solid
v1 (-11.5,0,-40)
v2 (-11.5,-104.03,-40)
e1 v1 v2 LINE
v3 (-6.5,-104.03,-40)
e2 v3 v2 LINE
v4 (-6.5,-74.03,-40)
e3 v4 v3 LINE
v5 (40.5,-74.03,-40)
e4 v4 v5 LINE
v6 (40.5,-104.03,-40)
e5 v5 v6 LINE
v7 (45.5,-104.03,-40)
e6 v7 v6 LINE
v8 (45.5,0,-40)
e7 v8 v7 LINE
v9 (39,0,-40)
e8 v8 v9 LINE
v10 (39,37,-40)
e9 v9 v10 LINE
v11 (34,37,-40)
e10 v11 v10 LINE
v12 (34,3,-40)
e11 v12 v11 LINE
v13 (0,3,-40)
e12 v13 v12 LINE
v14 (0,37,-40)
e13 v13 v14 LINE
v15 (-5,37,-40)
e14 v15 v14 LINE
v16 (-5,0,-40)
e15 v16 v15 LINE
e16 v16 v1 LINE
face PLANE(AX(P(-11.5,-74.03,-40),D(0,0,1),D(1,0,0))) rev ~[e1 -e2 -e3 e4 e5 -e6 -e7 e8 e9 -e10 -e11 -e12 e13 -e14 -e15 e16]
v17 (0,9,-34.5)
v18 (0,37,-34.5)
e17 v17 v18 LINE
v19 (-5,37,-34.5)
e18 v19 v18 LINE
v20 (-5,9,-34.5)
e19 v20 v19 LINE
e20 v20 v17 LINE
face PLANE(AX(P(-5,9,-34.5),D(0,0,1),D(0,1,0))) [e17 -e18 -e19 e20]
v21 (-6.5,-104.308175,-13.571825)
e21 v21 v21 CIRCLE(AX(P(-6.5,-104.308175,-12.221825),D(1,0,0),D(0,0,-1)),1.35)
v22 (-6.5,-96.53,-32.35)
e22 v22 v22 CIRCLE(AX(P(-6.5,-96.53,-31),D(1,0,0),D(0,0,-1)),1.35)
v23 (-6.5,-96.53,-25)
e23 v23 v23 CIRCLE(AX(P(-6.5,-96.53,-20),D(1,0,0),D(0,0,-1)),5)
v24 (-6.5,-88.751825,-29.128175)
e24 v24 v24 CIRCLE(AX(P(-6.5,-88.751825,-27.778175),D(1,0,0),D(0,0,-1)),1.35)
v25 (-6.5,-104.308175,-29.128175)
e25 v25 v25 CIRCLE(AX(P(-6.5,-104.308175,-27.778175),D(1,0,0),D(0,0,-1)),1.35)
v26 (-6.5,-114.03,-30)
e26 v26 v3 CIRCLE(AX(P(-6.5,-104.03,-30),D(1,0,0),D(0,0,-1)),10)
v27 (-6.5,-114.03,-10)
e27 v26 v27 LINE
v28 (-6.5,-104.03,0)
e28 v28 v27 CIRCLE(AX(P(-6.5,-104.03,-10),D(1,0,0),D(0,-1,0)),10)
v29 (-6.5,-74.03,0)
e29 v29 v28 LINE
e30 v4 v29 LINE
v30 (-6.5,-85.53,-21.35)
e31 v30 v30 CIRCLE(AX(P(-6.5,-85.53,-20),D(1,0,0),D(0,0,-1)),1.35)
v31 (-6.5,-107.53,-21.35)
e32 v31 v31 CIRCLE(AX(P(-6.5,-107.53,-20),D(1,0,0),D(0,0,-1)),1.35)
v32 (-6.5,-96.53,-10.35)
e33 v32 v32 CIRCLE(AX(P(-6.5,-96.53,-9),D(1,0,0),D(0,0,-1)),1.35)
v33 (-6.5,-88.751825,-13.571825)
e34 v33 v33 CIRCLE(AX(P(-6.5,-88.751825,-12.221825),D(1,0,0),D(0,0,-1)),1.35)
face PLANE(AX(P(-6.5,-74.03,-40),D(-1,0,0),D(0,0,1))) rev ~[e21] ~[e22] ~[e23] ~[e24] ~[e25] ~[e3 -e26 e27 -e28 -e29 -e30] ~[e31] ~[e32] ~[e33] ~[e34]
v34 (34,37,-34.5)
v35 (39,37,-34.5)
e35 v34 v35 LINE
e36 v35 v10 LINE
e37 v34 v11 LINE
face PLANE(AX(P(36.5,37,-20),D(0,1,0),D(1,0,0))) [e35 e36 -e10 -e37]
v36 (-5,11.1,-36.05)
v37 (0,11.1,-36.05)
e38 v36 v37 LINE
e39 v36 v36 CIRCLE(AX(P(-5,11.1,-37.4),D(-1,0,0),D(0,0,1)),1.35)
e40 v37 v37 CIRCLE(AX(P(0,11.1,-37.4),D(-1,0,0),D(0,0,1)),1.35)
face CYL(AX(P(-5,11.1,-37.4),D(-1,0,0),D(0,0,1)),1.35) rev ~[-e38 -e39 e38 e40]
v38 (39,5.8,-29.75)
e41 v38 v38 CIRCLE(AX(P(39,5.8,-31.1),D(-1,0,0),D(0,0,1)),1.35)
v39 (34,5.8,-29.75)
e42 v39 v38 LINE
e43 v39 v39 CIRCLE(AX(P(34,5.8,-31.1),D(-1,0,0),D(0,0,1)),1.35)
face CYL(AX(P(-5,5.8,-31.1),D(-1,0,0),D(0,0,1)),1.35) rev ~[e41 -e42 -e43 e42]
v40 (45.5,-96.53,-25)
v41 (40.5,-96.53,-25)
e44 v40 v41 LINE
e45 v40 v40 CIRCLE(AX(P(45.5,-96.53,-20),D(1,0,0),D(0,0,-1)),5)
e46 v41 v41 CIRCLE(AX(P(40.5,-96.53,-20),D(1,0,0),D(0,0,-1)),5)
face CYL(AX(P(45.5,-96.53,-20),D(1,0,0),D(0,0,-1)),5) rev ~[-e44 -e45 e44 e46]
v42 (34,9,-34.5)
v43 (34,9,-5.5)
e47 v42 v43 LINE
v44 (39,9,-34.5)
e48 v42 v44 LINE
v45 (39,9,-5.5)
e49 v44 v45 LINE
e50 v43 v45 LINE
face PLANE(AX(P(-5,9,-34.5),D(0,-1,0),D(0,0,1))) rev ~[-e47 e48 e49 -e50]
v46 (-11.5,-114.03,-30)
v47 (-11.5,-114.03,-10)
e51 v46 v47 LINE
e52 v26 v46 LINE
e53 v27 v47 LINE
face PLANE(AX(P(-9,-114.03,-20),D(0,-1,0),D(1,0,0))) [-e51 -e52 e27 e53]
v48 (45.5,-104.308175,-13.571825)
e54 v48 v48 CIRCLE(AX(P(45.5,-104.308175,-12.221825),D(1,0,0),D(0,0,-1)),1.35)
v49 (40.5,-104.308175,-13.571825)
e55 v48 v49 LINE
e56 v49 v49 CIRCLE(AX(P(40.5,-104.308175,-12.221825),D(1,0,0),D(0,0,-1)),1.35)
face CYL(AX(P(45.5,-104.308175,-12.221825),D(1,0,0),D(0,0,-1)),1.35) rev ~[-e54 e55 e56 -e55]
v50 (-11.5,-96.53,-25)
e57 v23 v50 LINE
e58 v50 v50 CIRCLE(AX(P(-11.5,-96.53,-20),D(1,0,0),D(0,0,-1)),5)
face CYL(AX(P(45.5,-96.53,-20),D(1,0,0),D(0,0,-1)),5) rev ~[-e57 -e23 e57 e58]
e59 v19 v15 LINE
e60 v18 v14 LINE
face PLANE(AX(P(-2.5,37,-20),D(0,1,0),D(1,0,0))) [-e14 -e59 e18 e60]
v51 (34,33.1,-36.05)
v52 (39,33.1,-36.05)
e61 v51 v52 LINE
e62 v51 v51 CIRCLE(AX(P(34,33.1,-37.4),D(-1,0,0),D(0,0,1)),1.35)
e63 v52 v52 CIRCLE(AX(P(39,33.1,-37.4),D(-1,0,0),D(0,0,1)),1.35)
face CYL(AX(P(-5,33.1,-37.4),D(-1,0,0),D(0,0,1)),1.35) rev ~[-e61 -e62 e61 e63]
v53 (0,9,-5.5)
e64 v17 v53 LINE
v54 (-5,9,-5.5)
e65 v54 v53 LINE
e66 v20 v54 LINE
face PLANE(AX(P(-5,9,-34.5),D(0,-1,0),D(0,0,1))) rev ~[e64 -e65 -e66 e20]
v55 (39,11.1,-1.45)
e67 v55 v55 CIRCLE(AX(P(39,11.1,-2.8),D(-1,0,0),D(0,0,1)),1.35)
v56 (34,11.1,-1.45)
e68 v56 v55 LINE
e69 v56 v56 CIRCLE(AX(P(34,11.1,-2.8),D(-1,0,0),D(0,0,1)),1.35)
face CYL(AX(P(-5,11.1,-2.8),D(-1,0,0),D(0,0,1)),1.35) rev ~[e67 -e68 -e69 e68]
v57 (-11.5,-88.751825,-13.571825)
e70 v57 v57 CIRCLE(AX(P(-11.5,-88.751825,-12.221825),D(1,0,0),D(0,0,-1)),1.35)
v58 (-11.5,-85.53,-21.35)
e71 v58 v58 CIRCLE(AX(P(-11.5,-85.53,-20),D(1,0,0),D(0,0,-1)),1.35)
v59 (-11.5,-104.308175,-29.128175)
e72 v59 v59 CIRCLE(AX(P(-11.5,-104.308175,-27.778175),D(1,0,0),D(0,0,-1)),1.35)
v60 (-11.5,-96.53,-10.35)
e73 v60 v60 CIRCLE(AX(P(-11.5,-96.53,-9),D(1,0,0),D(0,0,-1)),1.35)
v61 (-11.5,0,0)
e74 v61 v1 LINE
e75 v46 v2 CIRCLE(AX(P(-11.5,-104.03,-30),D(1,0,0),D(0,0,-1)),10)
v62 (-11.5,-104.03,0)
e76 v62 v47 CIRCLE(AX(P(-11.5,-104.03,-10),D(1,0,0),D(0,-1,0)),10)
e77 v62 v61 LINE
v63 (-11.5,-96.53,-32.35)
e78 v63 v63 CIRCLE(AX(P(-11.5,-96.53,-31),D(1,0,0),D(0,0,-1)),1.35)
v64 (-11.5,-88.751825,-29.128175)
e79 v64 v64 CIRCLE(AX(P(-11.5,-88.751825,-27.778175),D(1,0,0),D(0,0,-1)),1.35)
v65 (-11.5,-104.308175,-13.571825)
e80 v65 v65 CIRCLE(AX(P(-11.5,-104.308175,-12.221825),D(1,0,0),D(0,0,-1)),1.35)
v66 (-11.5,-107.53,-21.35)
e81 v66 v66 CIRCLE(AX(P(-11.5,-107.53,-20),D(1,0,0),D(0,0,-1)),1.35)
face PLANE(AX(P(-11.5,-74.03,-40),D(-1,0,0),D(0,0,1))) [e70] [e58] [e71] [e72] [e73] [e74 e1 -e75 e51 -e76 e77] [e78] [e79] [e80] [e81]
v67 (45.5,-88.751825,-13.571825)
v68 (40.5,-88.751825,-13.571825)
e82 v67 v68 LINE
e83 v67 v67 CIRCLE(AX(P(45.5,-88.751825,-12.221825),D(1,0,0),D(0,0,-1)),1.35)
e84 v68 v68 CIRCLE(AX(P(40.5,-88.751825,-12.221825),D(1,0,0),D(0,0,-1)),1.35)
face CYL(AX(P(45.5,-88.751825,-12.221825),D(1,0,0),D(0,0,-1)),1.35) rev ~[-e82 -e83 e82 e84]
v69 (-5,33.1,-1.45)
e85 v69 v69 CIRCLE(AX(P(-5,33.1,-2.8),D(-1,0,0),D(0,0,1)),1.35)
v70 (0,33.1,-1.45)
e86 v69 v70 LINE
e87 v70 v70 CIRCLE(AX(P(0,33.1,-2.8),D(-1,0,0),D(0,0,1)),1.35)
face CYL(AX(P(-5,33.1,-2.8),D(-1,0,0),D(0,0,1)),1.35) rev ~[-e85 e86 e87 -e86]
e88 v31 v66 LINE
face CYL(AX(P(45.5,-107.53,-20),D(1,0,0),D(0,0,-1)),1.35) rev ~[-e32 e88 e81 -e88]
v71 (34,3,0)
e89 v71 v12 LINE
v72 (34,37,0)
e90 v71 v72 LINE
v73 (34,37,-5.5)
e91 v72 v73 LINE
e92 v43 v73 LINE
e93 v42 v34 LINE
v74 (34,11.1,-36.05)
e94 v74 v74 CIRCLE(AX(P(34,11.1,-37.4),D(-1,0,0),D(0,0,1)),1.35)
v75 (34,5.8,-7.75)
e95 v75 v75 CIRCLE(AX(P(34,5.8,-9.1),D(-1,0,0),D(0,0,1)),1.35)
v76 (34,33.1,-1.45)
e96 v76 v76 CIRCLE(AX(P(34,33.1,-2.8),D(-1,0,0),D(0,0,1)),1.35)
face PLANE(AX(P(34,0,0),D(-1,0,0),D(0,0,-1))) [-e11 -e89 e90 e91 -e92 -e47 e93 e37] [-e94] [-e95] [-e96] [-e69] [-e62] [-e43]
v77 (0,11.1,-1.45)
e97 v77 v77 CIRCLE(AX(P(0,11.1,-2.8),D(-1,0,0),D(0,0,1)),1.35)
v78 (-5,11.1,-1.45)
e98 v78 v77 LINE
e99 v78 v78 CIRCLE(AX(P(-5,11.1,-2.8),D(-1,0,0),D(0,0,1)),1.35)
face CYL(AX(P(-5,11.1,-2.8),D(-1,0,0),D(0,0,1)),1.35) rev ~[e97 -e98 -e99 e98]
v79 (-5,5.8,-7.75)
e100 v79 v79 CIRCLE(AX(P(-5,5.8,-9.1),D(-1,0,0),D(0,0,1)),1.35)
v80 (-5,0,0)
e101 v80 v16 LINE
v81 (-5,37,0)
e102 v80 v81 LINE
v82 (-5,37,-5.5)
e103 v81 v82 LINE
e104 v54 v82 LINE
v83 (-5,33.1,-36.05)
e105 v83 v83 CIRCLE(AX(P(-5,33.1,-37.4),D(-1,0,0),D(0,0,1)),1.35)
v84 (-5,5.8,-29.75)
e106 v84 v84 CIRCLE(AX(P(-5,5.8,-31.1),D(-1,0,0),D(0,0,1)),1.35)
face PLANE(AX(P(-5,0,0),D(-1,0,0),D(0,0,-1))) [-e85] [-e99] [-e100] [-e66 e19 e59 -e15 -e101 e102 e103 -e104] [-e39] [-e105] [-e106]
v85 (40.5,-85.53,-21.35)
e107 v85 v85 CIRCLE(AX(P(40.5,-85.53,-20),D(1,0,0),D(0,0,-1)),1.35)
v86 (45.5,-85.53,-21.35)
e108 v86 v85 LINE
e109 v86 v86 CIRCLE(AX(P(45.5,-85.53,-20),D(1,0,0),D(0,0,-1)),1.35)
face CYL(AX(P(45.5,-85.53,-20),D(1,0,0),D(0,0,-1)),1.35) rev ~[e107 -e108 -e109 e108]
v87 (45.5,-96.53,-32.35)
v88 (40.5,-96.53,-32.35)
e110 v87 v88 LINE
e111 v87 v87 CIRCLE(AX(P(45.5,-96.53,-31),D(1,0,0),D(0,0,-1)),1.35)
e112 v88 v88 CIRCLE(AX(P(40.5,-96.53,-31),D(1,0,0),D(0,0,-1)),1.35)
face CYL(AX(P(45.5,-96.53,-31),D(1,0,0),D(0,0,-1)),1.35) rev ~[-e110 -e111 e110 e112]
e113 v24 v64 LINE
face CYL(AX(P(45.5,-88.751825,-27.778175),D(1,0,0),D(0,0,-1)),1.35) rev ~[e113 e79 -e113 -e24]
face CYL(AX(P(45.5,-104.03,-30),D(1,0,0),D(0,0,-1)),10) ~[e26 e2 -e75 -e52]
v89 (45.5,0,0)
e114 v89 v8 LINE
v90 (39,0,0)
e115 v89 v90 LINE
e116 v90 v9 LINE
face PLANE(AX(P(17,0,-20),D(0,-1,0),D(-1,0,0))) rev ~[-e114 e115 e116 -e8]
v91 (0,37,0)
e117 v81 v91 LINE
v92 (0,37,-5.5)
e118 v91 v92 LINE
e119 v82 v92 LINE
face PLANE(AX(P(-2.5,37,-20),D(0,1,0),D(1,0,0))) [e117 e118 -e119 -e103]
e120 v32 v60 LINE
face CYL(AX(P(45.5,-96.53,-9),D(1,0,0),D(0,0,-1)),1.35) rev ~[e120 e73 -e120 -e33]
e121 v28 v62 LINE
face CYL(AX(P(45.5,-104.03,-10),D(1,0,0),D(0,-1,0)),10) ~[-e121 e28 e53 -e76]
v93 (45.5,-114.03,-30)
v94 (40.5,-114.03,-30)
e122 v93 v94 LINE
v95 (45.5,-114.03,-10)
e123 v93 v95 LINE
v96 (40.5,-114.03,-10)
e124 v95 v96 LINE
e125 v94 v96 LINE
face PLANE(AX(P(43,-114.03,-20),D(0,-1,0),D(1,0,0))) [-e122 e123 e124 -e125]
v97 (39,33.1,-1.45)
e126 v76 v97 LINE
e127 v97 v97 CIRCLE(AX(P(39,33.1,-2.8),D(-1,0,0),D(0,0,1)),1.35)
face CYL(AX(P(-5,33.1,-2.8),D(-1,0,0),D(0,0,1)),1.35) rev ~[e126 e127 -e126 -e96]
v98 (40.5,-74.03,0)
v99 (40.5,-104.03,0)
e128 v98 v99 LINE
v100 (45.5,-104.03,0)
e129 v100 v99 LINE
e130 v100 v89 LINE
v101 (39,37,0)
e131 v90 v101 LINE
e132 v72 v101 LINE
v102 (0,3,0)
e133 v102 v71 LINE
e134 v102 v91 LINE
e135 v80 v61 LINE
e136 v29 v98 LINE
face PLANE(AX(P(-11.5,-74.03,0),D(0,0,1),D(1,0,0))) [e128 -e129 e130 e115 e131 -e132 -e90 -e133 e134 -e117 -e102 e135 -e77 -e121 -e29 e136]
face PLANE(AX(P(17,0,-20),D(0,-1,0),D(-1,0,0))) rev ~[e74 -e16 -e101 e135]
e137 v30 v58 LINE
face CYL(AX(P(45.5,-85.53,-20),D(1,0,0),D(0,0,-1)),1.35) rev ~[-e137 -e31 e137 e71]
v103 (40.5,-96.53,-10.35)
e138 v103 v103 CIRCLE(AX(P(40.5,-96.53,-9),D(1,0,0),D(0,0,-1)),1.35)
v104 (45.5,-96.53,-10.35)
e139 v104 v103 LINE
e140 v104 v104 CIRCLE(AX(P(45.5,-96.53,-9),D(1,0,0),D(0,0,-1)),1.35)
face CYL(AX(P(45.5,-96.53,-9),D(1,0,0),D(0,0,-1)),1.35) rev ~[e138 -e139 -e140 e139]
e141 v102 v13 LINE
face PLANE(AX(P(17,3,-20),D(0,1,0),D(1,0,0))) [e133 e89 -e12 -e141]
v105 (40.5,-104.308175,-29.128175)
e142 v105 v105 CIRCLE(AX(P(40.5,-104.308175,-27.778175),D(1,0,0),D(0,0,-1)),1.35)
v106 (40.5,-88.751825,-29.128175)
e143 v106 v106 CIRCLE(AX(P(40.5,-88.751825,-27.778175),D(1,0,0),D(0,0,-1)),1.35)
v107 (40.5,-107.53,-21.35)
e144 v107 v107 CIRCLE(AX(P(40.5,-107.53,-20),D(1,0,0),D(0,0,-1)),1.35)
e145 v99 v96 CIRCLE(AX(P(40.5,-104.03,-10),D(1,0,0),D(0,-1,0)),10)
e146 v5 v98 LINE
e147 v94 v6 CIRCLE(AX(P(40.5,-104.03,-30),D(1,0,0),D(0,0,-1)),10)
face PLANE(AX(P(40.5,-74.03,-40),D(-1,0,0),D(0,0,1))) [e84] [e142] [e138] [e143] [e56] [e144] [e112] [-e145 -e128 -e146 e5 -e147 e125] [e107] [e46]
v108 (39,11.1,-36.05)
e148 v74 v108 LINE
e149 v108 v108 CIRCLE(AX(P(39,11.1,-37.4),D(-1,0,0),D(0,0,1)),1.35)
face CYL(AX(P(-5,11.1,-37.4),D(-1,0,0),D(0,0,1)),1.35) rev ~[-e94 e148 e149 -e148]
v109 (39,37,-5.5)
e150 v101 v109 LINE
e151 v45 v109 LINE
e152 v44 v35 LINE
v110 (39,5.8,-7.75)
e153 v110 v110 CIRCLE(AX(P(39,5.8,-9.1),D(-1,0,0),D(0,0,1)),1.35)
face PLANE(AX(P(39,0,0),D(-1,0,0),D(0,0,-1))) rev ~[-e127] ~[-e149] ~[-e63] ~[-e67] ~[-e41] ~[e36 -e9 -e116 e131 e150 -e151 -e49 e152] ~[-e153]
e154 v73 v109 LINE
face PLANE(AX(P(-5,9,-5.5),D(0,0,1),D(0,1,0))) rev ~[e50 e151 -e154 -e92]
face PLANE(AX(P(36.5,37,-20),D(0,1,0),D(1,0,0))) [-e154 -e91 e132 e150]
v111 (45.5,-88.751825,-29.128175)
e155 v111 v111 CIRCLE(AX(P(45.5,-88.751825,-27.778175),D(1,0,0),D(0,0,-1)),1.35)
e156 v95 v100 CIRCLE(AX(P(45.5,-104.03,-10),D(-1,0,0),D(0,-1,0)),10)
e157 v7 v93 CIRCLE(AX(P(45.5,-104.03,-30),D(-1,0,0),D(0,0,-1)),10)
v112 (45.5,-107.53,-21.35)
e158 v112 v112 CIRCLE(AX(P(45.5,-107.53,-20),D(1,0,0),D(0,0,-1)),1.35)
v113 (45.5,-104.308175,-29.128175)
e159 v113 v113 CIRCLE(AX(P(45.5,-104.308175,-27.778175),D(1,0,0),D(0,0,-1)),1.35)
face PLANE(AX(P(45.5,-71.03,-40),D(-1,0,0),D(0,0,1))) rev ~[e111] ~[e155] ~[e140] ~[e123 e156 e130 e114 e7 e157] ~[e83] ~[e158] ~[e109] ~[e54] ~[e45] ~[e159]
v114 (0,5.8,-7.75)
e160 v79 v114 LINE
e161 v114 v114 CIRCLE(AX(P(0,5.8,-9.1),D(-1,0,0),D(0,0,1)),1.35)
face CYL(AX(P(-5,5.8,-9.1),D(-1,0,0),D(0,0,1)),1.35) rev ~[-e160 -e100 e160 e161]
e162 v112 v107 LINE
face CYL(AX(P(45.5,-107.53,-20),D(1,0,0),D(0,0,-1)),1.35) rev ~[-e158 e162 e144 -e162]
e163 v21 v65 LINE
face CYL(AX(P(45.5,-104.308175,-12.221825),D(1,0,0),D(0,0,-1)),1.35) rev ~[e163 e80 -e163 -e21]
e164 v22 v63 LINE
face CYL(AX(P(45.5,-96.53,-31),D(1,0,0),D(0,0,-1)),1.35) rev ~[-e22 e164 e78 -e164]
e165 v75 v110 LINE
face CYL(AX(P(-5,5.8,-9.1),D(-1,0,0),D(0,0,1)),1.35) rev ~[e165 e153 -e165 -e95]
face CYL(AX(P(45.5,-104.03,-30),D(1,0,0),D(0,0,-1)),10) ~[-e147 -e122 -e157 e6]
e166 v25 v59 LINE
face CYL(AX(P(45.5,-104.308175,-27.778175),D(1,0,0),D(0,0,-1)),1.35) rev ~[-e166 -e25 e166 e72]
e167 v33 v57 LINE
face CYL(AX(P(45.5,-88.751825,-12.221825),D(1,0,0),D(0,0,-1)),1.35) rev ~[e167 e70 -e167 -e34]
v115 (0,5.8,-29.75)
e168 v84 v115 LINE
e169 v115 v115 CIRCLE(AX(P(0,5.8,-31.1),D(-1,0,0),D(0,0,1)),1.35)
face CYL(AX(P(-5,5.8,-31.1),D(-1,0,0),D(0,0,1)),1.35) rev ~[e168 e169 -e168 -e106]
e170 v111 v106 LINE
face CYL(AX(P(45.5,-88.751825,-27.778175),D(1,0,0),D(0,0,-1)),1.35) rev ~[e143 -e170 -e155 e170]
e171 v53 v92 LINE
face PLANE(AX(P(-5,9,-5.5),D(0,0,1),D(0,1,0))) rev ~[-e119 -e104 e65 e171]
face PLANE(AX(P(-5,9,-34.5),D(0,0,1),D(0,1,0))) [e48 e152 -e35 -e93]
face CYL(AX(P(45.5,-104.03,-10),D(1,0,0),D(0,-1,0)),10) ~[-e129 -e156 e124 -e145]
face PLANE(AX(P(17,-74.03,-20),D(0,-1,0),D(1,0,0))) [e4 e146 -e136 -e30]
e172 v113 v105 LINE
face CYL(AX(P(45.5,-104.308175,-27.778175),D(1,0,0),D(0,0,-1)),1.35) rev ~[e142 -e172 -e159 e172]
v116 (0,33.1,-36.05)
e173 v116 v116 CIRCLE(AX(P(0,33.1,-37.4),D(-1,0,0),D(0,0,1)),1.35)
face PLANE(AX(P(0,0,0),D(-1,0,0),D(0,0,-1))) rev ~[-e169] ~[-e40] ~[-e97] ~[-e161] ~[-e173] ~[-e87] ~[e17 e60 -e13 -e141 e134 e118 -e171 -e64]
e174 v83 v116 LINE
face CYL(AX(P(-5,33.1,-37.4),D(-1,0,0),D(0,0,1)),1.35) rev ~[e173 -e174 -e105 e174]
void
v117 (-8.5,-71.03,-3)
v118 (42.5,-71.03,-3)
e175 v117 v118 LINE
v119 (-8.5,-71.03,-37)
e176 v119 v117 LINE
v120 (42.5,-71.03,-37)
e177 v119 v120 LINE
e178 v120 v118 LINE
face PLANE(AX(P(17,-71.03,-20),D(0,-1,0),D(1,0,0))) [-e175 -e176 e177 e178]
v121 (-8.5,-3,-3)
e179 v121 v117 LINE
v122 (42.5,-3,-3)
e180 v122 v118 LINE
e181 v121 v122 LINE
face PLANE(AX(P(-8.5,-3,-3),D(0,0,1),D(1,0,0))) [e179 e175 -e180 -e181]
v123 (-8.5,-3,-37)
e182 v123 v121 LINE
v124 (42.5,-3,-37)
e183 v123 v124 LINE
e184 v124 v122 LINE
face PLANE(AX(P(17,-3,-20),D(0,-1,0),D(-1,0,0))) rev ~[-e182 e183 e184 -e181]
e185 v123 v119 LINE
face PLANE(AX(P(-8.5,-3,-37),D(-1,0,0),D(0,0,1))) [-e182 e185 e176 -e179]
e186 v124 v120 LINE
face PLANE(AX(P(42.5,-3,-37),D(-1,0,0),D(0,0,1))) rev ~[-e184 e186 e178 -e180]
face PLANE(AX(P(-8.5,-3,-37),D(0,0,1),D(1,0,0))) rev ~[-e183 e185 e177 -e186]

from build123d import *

# Parameters (mm, degrees)
SKETCH2_W           = 34
SKETCH2_H           = 40
BOSS_EXTRUDE1_DEPTH = 3
SKETCH3_W           = 5
SKETCH3_H           = 40
BOSS_EXTRUDE2_DEPTH = 37
CUT_EXTRUDE1_REACH  = 72.036
SKETCH4_R           = 1.35
SKETCH4_W           = 29
SKETCH4_H           = 28
SKETCH5_W           = 57
SKETCH5_H           = 40
BOSS_EXTRUDE3_DEPTH = 3
SKETCH6_W           = 57
SKETCH6_H           = 40
SKETCH6_W_2         = 51
SKETCH6_H_2         = 34
BOSS_EXTRUDE4_DEPTH = 68.03
SKETCH7_W           = 57
SKETCH7_H           = 40
BOSS_EXTRUDE5_DEPTH = 3
SKETCH8_W           = 5
SKETCH8_H           = 40
BOSS_EXTRUDE6_DEPTH = 40
CUT_EXTRUDE2_REACH  = 135.611
SKETCH9_R           = 5
SKETCH9_R_2         = 1.35


with BuildPart() as part:
    # Sketch2 → Boss-Extrude1 (new body)
    with BuildSketch(Plane(origin=(0, 0, 0), x_dir=(1, 0, 0), z_dir=(0, 1, 0))):
        with Locations((17, 20)):
            Rectangle(SKETCH2_W, SKETCH2_H)
    extrude(amount=BOSS_EXTRUDE1_DEPTH)

    # Sketch3 → Boss-Extrude2 (add)
    with BuildSketch(Plane(origin=(0, 0, 0), x_dir=(1, 0, 0), z_dir=(0, 1, 0))):
        with Locations((-2.5, 20)):
            Rectangle(SKETCH3_W, SKETCH3_H)
        with Locations((36.5, 20)):
            Rectangle(SKETCH3_W, SKETCH3_H)
    extrude(amount=BOSS_EXTRUDE2_DEPTH)

    # Cut-Extrude1: up to this face of the body (flat: up to its plane)
    cut_extrude1_end = Plane(part.part.faces().sort_by_distance((39, 18.5, -20))[0])
    # Sketch4 → Cut-Extrude1 (cut, up to the picked face)
    with BuildSketch(Plane.ZY.offset(5), mode=Mode.PRIVATE) as cut_extrude1_sk1:
        with Locations((-2.8, 33.1)):
            Circle(SKETCH4_R)
    cut_extrude1_tool1 = split(extrude(cut_extrude1_sk1.sketch, amount=-CUT_EXTRUDE1_REACH, mode=Mode.PRIVATE), bisect_by=cut_extrude1_end, keep=Keep.BOTH, mode=Mode.PRIVATE)
    # Sketch4 → Cut-Extrude1 (cut, up to the picked face)
    with BuildSketch(Plane.ZY.offset(5), mode=Mode.PRIVATE) as cut_extrude1_sk2:
        with Locations((-2.8, 11.1)):
            Circle(SKETCH4_R)
    cut_extrude1_tool2 = split(extrude(cut_extrude1_sk2.sketch, amount=-CUT_EXTRUDE1_REACH, mode=Mode.PRIVATE), bisect_by=cut_extrude1_end, keep=Keep.BOTH, mode=Mode.PRIVATE)
    # Sketch4 → Cut-Extrude1 (cut, up to the picked face)
    with BuildSketch(Plane.ZY.offset(5), mode=Mode.PRIVATE) as cut_extrude1_sk3:
        with Locations((-9.1, 5.8)):
            Circle(SKETCH4_R)
    cut_extrude1_tool3 = split(extrude(cut_extrude1_sk3.sketch, amount=-CUT_EXTRUDE1_REACH, mode=Mode.PRIVATE), bisect_by=cut_extrude1_end, keep=Keep.BOTH, mode=Mode.PRIVATE)
    # Sketch4 → Cut-Extrude1 (cut, up to the picked face)
    with BuildSketch(Plane.ZY.offset(5), mode=Mode.PRIVATE) as cut_extrude1_sk4:
        with Locations((-37.4, 11.1)):
            Circle(SKETCH4_R)
    cut_extrude1_tool4 = split(extrude(cut_extrude1_sk4.sketch, amount=-CUT_EXTRUDE1_REACH, mode=Mode.PRIVATE), bisect_by=cut_extrude1_end, keep=Keep.BOTH, mode=Mode.PRIVATE)
    # Sketch4 → Cut-Extrude1 (cut, up to the picked face)
    with BuildSketch(Plane.ZY.offset(5), mode=Mode.PRIVATE) as cut_extrude1_sk5:
        with Locations((-31.1, 5.8)):
            Circle(SKETCH4_R)
    cut_extrude1_tool5 = split(extrude(cut_extrude1_sk5.sketch, amount=-CUT_EXTRUDE1_REACH, mode=Mode.PRIVATE), bisect_by=cut_extrude1_end, keep=Keep.BOTH, mode=Mode.PRIVATE)
    # Sketch4 → Cut-Extrude1 (cut, up to the picked face)
    with BuildSketch(Plane.ZY.offset(5), mode=Mode.PRIVATE) as cut_extrude1_sk6:
        with Locations((-37.4, 33.1)):
            Circle(SKETCH4_R)
    cut_extrude1_tool6 = split(extrude(cut_extrude1_sk6.sketch, amount=-CUT_EXTRUDE1_REACH, mode=Mode.PRIVATE), bisect_by=cut_extrude1_end, keep=Keep.BOTH, mode=Mode.PRIVATE)
    # Sketch4 → Cut-Extrude1 (cut, up to the picked face)
    with BuildSketch(Plane.ZY.offset(5), mode=Mode.PRIVATE) as cut_extrude1_sk7:
        with Locations((-20, 23)):
            Rectangle(SKETCH4_W, SKETCH4_H)
    cut_extrude1_tool7 = split(extrude(cut_extrude1_sk7.sketch, amount=-CUT_EXTRUDE1_REACH, mode=Mode.PRIVATE), bisect_by=cut_extrude1_end, keep=Keep.BOTH, mode=Mode.PRIVATE)
    add(cut_extrude1_tool1.solids().sort_by(Axis((-5, 33.1, -2.8), (1, 0, 0)))[0], mode=Mode.SUBTRACT)
    add(cut_extrude1_tool2.solids().sort_by(Axis((-5, 11.1, -2.8), (1, 0, 0)))[0], mode=Mode.SUBTRACT)
    add(cut_extrude1_tool3.solids().sort_by(Axis((-5, 5.8, -9.1), (1, 0, 0)))[0], mode=Mode.SUBTRACT)
    add(cut_extrude1_tool4.solids().sort_by(Axis((-5, 11.1, -37.4), (1, 0, 0)))[0], mode=Mode.SUBTRACT)
    add(cut_extrude1_tool5.solids().sort_by(Axis((-5, 5.8, -31.1), (1, 0, 0)))[0], mode=Mode.SUBTRACT)
    add(cut_extrude1_tool6.solids().sort_by(Axis((-5, 33.1, -37.4), (1, 0, 0)))[0], mode=Mode.SUBTRACT)
    add(cut_extrude1_tool7.solids().sort_by(Axis((-5, 23, -20), (1, 0, 0)))[0], mode=Mode.SUBTRACT)

    # Sketch5 → Boss-Extrude3 (add)
    with BuildSketch(Plane(origin=(0, 0, 0), x_dir=(-1, 0, 0), z_dir=(0, -1, 0))):
        with Locations((-17, 20)):
            Rectangle(SKETCH5_W, SKETCH5_H)
    extrude(amount=BOSS_EXTRUDE3_DEPTH)

    # Sketch6 → Boss-Extrude4 (add)
    with BuildSketch(Plane.XZ.offset(3)):
        with Locations((17, -20)):
            Rectangle(SKETCH6_W, SKETCH6_H)
        with Locations((17, -20)):
            Rectangle(SKETCH6_W_2, SKETCH6_H_2, mode=Mode.SUBTRACT)
    extrude(amount=BOSS_EXTRUDE4_DEPTH)

    # Sketch7 → Boss-Extrude5 (add)
    with BuildSketch(Plane.XZ.offset(71.03)):
        with Locations((17, -20)):
            Rectangle(SKETCH7_W, SKETCH7_H)
    extrude(amount=BOSS_EXTRUDE5_DEPTH)

    # Sketch8 → Boss-Extrude6 (add)
    with BuildSketch(Plane.XZ.offset(74.03)):
        with Locations((-9, -20)):
            Rectangle(SKETCH8_W, SKETCH8_H)
        with Locations((43, -20)):
            Rectangle(SKETCH8_W, SKETCH8_H)
    extrude(amount=BOSS_EXTRUDE6_DEPTH)

    # Cut-Extrude2: up to this face of the body (flat: up to its plane)
    cut_extrude2_end = Plane(part.part.faces().sort_by_distance((-11.5, -57.015, -20))[0])
    # Sketch9 → Cut-Extrude2 (cut, up to the picked face)
    with BuildSketch(Plane(origin=(45.5, 0, 0), x_dir=(0, 0, -1), z_dir=(1, 0, 0)), mode=Mode.PRIVATE) as cut_extrude2_sk1:
        with BuildLine():
            ThreePointArc((40, -104.03), (37.071067812, -111.101067812), (30, -114.03))
            Line((30, -114.03), (40, -114.03))
            Line((40, -114.03), (40, -104.03))
        make_face()
    cut_extrude2_tool1 = split(extrude(cut_extrude2_sk1.sketch, amount=-CUT_EXTRUDE2_REACH, mode=Mode.PRIVATE), bisect_by=cut_extrude2_end, keep=Keep.BOTH, mode=Mode.PRIVATE)
    # Sketch9 → Cut-Extrude2 (cut, up to the picked face)
    with BuildSketch(Plane(origin=(45.5, 0, 0), x_dir=(0, 0, -1), z_dir=(1, 0, 0)), mode=Mode.PRIVATE) as cut_extrude2_sk2:
        with BuildLine():
            ThreePointArc((10, -114.03), (2.928932188, -111.101067812), (0, -104.03))
            Line((0, -104.03), (0, -114.03))
            Line((0, -114.03), (10, -114.03))
        make_face()
    cut_extrude2_tool2 = split(extrude(cut_extrude2_sk2.sketch, amount=-CUT_EXTRUDE2_REACH, mode=Mode.PRIVATE), bisect_by=cut_extrude2_end, keep=Keep.BOTH, mode=Mode.PRIVATE)
    # Sketch9 → Cut-Extrude2 (cut, up to the picked face)
    with BuildSketch(Plane(origin=(45.5, 0, 0), x_dir=(0, 0, -1), z_dir=(1, 0, 0)), mode=Mode.PRIVATE) as cut_extrude2_sk3:
        with Locations((20, -96.53)):
            Circle(SKETCH9_R)
    cut_extrude2_tool3 = split(extrude(cut_extrude2_sk3.sketch, amount=-CUT_EXTRUDE2_REACH, mode=Mode.PRIVATE), bisect_by=cut_extrude2_end, keep=Keep.BOTH, mode=Mode.PRIVATE)
    # Sketch9 → Cut-Extrude2 (cut, up to the picked face)
    with BuildSketch(Plane(origin=(45.5, 0, 0), x_dir=(0, 0, -1), z_dir=(1, 0, 0)), mode=Mode.PRIVATE) as cut_extrude2_sk4:
        with Locations((27.778174593, -104.308174593)):
            Circle(SKETCH9_R_2)
    cut_extrude2_tool4 = split(extrude(cut_extrude2_sk4.sketch, amount=-CUT_EXTRUDE2_REACH, mode=Mode.PRIVATE), bisect_by=cut_extrude2_end, keep=Keep.BOTH, mode=Mode.PRIVATE)
    # Sketch9 → Cut-Extrude2 (cut, up to the picked face)
    with BuildSketch(Plane(origin=(45.5, 0, 0), x_dir=(0, 0, -1), z_dir=(1, 0, 0)), mode=Mode.PRIVATE) as cut_extrude2_sk5:
        with Locations((20, -107.53)):
            Circle(SKETCH9_R_2)
    cut_extrude2_tool5 = split(extrude(cut_extrude2_sk5.sketch, amount=-CUT_EXTRUDE2_REACH, mode=Mode.PRIVATE), bisect_by=cut_extrude2_end, keep=Keep.BOTH, mode=Mode.PRIVATE)
    # Sketch9 → Cut-Extrude2 (cut, up to the picked face)
    with BuildSketch(Plane(origin=(45.5, 0, 0), x_dir=(0, 0, -1), z_dir=(1, 0, 0)), mode=Mode.PRIVATE) as cut_extrude2_sk6:
        with Locations((12.221825407, -104.308174593)):
            Circle(SKETCH9_R_2)
    cut_extrude2_tool6 = split(extrude(cut_extrude2_sk6.sketch, amount=-CUT_EXTRUDE2_REACH, mode=Mode.PRIVATE), bisect_by=cut_extrude2_end, keep=Keep.BOTH, mode=Mode.PRIVATE)
    # Sketch9 → Cut-Extrude2 (cut, up to the picked face)
    with BuildSketch(Plane(origin=(45.5, 0, 0), x_dir=(0, 0, -1), z_dir=(1, 0, 0)), mode=Mode.PRIVATE) as cut_extrude2_sk7:
        with Locations((31, -96.53)):
            Circle(SKETCH9_R_2)
    cut_extrude2_tool7 = split(extrude(cut_extrude2_sk7.sketch, amount=-CUT_EXTRUDE2_REACH, mode=Mode.PRIVATE), bisect_by=cut_extrude2_end, keep=Keep.BOTH, mode=Mode.PRIVATE)
    # Sketch9 → Cut-Extrude2 (cut, up to the picked face)
    with BuildSketch(Plane(origin=(45.5, 0, 0), x_dir=(0, 0, -1), z_dir=(1, 0, 0)), mode=Mode.PRIVATE) as cut_extrude2_sk8:
        with Locations((27.778174593, -88.751825407)):
            Circle(SKETCH9_R_2)
    cut_extrude2_tool8 = split(extrude(cut_extrude2_sk8.sketch, amount=-CUT_EXTRUDE2_REACH, mode=Mode.PRIVATE), bisect_by=cut_extrude2_end, keep=Keep.BOTH, mode=Mode.PRIVATE)
    # Sketch9 → Cut-Extrude2 (cut, up to the picked face)
    with BuildSketch(Plane(origin=(45.5, 0, 0), x_dir=(0, 0, -1), z_dir=(1, 0, 0)), mode=Mode.PRIVATE) as cut_extrude2_sk9:
        with Locations((20, -85.53)):
            Circle(SKETCH9_R_2)
    cut_extrude2_tool9 = split(extrude(cut_extrude2_sk9.sketch, amount=-CUT_EXTRUDE2_REACH, mode=Mode.PRIVATE), bisect_by=cut_extrude2_end, keep=Keep.BOTH, mode=Mode.PRIVATE)
    # Sketch9 → Cut-Extrude2 (cut, up to the picked face)
    with BuildSketch(Plane(origin=(45.5, 0, 0), x_dir=(0, 0, -1), z_dir=(1, 0, 0)), mode=Mode.PRIVATE) as cut_extrude2_sk10:
        with Locations((12.221825407, -88.751825407)):
            Circle(SKETCH9_R_2)
    cut_extrude2_tool10 = split(extrude(cut_extrude2_sk10.sketch, amount=-CUT_EXTRUDE2_REACH, mode=Mode.PRIVATE), bisect_by=cut_extrude2_end, keep=Keep.BOTH, mode=Mode.PRIVATE)
    # Sketch9 → Cut-Extrude2 (cut, up to the picked face)
    with BuildSketch(Plane(origin=(45.5, 0, 0), x_dir=(0, 0, -1), z_dir=(1, 0, 0)), mode=Mode.PRIVATE) as cut_extrude2_sk11:
        with Locations((9, -96.53)):
            Circle(SKETCH9_R_2)
    cut_extrude2_tool11 = split(extrude(cut_extrude2_sk11.sketch, amount=-CUT_EXTRUDE2_REACH, mode=Mode.PRIVATE), bisect_by=cut_extrude2_end, keep=Keep.BOTH, mode=Mode.PRIVATE)
    add(cut_extrude2_tool1.solids().sort_by(Axis((45.5, -111.796321, -37.766321), (-1, 0, 0)))[0], mode=Mode.SUBTRACT)
    add(cut_extrude2_tool2.solids().sort_by(Axis((45.5, -111.796321, -2.233679), (-1, 0, 0)))[0], mode=Mode.SUBTRACT)
    add(cut_extrude2_tool3.solids().sort_by(Axis((45.5, -96.53, -20), (-1, 0, 0)))[0], mode=Mode.SUBTRACT)
    add(cut_extrude2_tool4.solids().sort_by(Axis((45.5, -104.308175, -27.778175), (-1, 0, 0)))[0], mode=Mode.SUBTRACT)
    add(cut_extrude2_tool5.solids().sort_by(Axis((45.5, -107.53, -20), (-1, 0, 0)))[0], mode=Mode.SUBTRACT)
    add(cut_extrude2_tool6.solids().sort_by(Axis((45.5, -104.308175, -12.221825), (-1, 0, 0)))[0], mode=Mode.SUBTRACT)
    add(cut_extrude2_tool7.solids().sort_by(Axis((45.5, -96.53, -31), (-1, 0, 0)))[0], mode=Mode.SUBTRACT)
    add(cut_extrude2_tool8.solids().sort_by(Axis((45.5, -88.751825, -27.778175), (-1, 0, 0)))[0], mode=Mode.SUBTRACT)
    add(cut_extrude2_tool9.solids().sort_by(Axis((45.5, -85.53, -20), (-1, 0, 0)))[0], mode=Mode.SUBTRACT)
    add(cut_extrude2_tool10.solids().sort_by(Axis((45.5, -88.751825, -12.221825), (-1, 0, 0)))[0], mode=Mode.SUBTRACT)
    add(cut_extrude2_tool11.solids().sort_by(Axis((45.5, -96.53, -9), (-1, 0, 0)))[0], mode=Mode.SUBTRACT)


solid = part.part
